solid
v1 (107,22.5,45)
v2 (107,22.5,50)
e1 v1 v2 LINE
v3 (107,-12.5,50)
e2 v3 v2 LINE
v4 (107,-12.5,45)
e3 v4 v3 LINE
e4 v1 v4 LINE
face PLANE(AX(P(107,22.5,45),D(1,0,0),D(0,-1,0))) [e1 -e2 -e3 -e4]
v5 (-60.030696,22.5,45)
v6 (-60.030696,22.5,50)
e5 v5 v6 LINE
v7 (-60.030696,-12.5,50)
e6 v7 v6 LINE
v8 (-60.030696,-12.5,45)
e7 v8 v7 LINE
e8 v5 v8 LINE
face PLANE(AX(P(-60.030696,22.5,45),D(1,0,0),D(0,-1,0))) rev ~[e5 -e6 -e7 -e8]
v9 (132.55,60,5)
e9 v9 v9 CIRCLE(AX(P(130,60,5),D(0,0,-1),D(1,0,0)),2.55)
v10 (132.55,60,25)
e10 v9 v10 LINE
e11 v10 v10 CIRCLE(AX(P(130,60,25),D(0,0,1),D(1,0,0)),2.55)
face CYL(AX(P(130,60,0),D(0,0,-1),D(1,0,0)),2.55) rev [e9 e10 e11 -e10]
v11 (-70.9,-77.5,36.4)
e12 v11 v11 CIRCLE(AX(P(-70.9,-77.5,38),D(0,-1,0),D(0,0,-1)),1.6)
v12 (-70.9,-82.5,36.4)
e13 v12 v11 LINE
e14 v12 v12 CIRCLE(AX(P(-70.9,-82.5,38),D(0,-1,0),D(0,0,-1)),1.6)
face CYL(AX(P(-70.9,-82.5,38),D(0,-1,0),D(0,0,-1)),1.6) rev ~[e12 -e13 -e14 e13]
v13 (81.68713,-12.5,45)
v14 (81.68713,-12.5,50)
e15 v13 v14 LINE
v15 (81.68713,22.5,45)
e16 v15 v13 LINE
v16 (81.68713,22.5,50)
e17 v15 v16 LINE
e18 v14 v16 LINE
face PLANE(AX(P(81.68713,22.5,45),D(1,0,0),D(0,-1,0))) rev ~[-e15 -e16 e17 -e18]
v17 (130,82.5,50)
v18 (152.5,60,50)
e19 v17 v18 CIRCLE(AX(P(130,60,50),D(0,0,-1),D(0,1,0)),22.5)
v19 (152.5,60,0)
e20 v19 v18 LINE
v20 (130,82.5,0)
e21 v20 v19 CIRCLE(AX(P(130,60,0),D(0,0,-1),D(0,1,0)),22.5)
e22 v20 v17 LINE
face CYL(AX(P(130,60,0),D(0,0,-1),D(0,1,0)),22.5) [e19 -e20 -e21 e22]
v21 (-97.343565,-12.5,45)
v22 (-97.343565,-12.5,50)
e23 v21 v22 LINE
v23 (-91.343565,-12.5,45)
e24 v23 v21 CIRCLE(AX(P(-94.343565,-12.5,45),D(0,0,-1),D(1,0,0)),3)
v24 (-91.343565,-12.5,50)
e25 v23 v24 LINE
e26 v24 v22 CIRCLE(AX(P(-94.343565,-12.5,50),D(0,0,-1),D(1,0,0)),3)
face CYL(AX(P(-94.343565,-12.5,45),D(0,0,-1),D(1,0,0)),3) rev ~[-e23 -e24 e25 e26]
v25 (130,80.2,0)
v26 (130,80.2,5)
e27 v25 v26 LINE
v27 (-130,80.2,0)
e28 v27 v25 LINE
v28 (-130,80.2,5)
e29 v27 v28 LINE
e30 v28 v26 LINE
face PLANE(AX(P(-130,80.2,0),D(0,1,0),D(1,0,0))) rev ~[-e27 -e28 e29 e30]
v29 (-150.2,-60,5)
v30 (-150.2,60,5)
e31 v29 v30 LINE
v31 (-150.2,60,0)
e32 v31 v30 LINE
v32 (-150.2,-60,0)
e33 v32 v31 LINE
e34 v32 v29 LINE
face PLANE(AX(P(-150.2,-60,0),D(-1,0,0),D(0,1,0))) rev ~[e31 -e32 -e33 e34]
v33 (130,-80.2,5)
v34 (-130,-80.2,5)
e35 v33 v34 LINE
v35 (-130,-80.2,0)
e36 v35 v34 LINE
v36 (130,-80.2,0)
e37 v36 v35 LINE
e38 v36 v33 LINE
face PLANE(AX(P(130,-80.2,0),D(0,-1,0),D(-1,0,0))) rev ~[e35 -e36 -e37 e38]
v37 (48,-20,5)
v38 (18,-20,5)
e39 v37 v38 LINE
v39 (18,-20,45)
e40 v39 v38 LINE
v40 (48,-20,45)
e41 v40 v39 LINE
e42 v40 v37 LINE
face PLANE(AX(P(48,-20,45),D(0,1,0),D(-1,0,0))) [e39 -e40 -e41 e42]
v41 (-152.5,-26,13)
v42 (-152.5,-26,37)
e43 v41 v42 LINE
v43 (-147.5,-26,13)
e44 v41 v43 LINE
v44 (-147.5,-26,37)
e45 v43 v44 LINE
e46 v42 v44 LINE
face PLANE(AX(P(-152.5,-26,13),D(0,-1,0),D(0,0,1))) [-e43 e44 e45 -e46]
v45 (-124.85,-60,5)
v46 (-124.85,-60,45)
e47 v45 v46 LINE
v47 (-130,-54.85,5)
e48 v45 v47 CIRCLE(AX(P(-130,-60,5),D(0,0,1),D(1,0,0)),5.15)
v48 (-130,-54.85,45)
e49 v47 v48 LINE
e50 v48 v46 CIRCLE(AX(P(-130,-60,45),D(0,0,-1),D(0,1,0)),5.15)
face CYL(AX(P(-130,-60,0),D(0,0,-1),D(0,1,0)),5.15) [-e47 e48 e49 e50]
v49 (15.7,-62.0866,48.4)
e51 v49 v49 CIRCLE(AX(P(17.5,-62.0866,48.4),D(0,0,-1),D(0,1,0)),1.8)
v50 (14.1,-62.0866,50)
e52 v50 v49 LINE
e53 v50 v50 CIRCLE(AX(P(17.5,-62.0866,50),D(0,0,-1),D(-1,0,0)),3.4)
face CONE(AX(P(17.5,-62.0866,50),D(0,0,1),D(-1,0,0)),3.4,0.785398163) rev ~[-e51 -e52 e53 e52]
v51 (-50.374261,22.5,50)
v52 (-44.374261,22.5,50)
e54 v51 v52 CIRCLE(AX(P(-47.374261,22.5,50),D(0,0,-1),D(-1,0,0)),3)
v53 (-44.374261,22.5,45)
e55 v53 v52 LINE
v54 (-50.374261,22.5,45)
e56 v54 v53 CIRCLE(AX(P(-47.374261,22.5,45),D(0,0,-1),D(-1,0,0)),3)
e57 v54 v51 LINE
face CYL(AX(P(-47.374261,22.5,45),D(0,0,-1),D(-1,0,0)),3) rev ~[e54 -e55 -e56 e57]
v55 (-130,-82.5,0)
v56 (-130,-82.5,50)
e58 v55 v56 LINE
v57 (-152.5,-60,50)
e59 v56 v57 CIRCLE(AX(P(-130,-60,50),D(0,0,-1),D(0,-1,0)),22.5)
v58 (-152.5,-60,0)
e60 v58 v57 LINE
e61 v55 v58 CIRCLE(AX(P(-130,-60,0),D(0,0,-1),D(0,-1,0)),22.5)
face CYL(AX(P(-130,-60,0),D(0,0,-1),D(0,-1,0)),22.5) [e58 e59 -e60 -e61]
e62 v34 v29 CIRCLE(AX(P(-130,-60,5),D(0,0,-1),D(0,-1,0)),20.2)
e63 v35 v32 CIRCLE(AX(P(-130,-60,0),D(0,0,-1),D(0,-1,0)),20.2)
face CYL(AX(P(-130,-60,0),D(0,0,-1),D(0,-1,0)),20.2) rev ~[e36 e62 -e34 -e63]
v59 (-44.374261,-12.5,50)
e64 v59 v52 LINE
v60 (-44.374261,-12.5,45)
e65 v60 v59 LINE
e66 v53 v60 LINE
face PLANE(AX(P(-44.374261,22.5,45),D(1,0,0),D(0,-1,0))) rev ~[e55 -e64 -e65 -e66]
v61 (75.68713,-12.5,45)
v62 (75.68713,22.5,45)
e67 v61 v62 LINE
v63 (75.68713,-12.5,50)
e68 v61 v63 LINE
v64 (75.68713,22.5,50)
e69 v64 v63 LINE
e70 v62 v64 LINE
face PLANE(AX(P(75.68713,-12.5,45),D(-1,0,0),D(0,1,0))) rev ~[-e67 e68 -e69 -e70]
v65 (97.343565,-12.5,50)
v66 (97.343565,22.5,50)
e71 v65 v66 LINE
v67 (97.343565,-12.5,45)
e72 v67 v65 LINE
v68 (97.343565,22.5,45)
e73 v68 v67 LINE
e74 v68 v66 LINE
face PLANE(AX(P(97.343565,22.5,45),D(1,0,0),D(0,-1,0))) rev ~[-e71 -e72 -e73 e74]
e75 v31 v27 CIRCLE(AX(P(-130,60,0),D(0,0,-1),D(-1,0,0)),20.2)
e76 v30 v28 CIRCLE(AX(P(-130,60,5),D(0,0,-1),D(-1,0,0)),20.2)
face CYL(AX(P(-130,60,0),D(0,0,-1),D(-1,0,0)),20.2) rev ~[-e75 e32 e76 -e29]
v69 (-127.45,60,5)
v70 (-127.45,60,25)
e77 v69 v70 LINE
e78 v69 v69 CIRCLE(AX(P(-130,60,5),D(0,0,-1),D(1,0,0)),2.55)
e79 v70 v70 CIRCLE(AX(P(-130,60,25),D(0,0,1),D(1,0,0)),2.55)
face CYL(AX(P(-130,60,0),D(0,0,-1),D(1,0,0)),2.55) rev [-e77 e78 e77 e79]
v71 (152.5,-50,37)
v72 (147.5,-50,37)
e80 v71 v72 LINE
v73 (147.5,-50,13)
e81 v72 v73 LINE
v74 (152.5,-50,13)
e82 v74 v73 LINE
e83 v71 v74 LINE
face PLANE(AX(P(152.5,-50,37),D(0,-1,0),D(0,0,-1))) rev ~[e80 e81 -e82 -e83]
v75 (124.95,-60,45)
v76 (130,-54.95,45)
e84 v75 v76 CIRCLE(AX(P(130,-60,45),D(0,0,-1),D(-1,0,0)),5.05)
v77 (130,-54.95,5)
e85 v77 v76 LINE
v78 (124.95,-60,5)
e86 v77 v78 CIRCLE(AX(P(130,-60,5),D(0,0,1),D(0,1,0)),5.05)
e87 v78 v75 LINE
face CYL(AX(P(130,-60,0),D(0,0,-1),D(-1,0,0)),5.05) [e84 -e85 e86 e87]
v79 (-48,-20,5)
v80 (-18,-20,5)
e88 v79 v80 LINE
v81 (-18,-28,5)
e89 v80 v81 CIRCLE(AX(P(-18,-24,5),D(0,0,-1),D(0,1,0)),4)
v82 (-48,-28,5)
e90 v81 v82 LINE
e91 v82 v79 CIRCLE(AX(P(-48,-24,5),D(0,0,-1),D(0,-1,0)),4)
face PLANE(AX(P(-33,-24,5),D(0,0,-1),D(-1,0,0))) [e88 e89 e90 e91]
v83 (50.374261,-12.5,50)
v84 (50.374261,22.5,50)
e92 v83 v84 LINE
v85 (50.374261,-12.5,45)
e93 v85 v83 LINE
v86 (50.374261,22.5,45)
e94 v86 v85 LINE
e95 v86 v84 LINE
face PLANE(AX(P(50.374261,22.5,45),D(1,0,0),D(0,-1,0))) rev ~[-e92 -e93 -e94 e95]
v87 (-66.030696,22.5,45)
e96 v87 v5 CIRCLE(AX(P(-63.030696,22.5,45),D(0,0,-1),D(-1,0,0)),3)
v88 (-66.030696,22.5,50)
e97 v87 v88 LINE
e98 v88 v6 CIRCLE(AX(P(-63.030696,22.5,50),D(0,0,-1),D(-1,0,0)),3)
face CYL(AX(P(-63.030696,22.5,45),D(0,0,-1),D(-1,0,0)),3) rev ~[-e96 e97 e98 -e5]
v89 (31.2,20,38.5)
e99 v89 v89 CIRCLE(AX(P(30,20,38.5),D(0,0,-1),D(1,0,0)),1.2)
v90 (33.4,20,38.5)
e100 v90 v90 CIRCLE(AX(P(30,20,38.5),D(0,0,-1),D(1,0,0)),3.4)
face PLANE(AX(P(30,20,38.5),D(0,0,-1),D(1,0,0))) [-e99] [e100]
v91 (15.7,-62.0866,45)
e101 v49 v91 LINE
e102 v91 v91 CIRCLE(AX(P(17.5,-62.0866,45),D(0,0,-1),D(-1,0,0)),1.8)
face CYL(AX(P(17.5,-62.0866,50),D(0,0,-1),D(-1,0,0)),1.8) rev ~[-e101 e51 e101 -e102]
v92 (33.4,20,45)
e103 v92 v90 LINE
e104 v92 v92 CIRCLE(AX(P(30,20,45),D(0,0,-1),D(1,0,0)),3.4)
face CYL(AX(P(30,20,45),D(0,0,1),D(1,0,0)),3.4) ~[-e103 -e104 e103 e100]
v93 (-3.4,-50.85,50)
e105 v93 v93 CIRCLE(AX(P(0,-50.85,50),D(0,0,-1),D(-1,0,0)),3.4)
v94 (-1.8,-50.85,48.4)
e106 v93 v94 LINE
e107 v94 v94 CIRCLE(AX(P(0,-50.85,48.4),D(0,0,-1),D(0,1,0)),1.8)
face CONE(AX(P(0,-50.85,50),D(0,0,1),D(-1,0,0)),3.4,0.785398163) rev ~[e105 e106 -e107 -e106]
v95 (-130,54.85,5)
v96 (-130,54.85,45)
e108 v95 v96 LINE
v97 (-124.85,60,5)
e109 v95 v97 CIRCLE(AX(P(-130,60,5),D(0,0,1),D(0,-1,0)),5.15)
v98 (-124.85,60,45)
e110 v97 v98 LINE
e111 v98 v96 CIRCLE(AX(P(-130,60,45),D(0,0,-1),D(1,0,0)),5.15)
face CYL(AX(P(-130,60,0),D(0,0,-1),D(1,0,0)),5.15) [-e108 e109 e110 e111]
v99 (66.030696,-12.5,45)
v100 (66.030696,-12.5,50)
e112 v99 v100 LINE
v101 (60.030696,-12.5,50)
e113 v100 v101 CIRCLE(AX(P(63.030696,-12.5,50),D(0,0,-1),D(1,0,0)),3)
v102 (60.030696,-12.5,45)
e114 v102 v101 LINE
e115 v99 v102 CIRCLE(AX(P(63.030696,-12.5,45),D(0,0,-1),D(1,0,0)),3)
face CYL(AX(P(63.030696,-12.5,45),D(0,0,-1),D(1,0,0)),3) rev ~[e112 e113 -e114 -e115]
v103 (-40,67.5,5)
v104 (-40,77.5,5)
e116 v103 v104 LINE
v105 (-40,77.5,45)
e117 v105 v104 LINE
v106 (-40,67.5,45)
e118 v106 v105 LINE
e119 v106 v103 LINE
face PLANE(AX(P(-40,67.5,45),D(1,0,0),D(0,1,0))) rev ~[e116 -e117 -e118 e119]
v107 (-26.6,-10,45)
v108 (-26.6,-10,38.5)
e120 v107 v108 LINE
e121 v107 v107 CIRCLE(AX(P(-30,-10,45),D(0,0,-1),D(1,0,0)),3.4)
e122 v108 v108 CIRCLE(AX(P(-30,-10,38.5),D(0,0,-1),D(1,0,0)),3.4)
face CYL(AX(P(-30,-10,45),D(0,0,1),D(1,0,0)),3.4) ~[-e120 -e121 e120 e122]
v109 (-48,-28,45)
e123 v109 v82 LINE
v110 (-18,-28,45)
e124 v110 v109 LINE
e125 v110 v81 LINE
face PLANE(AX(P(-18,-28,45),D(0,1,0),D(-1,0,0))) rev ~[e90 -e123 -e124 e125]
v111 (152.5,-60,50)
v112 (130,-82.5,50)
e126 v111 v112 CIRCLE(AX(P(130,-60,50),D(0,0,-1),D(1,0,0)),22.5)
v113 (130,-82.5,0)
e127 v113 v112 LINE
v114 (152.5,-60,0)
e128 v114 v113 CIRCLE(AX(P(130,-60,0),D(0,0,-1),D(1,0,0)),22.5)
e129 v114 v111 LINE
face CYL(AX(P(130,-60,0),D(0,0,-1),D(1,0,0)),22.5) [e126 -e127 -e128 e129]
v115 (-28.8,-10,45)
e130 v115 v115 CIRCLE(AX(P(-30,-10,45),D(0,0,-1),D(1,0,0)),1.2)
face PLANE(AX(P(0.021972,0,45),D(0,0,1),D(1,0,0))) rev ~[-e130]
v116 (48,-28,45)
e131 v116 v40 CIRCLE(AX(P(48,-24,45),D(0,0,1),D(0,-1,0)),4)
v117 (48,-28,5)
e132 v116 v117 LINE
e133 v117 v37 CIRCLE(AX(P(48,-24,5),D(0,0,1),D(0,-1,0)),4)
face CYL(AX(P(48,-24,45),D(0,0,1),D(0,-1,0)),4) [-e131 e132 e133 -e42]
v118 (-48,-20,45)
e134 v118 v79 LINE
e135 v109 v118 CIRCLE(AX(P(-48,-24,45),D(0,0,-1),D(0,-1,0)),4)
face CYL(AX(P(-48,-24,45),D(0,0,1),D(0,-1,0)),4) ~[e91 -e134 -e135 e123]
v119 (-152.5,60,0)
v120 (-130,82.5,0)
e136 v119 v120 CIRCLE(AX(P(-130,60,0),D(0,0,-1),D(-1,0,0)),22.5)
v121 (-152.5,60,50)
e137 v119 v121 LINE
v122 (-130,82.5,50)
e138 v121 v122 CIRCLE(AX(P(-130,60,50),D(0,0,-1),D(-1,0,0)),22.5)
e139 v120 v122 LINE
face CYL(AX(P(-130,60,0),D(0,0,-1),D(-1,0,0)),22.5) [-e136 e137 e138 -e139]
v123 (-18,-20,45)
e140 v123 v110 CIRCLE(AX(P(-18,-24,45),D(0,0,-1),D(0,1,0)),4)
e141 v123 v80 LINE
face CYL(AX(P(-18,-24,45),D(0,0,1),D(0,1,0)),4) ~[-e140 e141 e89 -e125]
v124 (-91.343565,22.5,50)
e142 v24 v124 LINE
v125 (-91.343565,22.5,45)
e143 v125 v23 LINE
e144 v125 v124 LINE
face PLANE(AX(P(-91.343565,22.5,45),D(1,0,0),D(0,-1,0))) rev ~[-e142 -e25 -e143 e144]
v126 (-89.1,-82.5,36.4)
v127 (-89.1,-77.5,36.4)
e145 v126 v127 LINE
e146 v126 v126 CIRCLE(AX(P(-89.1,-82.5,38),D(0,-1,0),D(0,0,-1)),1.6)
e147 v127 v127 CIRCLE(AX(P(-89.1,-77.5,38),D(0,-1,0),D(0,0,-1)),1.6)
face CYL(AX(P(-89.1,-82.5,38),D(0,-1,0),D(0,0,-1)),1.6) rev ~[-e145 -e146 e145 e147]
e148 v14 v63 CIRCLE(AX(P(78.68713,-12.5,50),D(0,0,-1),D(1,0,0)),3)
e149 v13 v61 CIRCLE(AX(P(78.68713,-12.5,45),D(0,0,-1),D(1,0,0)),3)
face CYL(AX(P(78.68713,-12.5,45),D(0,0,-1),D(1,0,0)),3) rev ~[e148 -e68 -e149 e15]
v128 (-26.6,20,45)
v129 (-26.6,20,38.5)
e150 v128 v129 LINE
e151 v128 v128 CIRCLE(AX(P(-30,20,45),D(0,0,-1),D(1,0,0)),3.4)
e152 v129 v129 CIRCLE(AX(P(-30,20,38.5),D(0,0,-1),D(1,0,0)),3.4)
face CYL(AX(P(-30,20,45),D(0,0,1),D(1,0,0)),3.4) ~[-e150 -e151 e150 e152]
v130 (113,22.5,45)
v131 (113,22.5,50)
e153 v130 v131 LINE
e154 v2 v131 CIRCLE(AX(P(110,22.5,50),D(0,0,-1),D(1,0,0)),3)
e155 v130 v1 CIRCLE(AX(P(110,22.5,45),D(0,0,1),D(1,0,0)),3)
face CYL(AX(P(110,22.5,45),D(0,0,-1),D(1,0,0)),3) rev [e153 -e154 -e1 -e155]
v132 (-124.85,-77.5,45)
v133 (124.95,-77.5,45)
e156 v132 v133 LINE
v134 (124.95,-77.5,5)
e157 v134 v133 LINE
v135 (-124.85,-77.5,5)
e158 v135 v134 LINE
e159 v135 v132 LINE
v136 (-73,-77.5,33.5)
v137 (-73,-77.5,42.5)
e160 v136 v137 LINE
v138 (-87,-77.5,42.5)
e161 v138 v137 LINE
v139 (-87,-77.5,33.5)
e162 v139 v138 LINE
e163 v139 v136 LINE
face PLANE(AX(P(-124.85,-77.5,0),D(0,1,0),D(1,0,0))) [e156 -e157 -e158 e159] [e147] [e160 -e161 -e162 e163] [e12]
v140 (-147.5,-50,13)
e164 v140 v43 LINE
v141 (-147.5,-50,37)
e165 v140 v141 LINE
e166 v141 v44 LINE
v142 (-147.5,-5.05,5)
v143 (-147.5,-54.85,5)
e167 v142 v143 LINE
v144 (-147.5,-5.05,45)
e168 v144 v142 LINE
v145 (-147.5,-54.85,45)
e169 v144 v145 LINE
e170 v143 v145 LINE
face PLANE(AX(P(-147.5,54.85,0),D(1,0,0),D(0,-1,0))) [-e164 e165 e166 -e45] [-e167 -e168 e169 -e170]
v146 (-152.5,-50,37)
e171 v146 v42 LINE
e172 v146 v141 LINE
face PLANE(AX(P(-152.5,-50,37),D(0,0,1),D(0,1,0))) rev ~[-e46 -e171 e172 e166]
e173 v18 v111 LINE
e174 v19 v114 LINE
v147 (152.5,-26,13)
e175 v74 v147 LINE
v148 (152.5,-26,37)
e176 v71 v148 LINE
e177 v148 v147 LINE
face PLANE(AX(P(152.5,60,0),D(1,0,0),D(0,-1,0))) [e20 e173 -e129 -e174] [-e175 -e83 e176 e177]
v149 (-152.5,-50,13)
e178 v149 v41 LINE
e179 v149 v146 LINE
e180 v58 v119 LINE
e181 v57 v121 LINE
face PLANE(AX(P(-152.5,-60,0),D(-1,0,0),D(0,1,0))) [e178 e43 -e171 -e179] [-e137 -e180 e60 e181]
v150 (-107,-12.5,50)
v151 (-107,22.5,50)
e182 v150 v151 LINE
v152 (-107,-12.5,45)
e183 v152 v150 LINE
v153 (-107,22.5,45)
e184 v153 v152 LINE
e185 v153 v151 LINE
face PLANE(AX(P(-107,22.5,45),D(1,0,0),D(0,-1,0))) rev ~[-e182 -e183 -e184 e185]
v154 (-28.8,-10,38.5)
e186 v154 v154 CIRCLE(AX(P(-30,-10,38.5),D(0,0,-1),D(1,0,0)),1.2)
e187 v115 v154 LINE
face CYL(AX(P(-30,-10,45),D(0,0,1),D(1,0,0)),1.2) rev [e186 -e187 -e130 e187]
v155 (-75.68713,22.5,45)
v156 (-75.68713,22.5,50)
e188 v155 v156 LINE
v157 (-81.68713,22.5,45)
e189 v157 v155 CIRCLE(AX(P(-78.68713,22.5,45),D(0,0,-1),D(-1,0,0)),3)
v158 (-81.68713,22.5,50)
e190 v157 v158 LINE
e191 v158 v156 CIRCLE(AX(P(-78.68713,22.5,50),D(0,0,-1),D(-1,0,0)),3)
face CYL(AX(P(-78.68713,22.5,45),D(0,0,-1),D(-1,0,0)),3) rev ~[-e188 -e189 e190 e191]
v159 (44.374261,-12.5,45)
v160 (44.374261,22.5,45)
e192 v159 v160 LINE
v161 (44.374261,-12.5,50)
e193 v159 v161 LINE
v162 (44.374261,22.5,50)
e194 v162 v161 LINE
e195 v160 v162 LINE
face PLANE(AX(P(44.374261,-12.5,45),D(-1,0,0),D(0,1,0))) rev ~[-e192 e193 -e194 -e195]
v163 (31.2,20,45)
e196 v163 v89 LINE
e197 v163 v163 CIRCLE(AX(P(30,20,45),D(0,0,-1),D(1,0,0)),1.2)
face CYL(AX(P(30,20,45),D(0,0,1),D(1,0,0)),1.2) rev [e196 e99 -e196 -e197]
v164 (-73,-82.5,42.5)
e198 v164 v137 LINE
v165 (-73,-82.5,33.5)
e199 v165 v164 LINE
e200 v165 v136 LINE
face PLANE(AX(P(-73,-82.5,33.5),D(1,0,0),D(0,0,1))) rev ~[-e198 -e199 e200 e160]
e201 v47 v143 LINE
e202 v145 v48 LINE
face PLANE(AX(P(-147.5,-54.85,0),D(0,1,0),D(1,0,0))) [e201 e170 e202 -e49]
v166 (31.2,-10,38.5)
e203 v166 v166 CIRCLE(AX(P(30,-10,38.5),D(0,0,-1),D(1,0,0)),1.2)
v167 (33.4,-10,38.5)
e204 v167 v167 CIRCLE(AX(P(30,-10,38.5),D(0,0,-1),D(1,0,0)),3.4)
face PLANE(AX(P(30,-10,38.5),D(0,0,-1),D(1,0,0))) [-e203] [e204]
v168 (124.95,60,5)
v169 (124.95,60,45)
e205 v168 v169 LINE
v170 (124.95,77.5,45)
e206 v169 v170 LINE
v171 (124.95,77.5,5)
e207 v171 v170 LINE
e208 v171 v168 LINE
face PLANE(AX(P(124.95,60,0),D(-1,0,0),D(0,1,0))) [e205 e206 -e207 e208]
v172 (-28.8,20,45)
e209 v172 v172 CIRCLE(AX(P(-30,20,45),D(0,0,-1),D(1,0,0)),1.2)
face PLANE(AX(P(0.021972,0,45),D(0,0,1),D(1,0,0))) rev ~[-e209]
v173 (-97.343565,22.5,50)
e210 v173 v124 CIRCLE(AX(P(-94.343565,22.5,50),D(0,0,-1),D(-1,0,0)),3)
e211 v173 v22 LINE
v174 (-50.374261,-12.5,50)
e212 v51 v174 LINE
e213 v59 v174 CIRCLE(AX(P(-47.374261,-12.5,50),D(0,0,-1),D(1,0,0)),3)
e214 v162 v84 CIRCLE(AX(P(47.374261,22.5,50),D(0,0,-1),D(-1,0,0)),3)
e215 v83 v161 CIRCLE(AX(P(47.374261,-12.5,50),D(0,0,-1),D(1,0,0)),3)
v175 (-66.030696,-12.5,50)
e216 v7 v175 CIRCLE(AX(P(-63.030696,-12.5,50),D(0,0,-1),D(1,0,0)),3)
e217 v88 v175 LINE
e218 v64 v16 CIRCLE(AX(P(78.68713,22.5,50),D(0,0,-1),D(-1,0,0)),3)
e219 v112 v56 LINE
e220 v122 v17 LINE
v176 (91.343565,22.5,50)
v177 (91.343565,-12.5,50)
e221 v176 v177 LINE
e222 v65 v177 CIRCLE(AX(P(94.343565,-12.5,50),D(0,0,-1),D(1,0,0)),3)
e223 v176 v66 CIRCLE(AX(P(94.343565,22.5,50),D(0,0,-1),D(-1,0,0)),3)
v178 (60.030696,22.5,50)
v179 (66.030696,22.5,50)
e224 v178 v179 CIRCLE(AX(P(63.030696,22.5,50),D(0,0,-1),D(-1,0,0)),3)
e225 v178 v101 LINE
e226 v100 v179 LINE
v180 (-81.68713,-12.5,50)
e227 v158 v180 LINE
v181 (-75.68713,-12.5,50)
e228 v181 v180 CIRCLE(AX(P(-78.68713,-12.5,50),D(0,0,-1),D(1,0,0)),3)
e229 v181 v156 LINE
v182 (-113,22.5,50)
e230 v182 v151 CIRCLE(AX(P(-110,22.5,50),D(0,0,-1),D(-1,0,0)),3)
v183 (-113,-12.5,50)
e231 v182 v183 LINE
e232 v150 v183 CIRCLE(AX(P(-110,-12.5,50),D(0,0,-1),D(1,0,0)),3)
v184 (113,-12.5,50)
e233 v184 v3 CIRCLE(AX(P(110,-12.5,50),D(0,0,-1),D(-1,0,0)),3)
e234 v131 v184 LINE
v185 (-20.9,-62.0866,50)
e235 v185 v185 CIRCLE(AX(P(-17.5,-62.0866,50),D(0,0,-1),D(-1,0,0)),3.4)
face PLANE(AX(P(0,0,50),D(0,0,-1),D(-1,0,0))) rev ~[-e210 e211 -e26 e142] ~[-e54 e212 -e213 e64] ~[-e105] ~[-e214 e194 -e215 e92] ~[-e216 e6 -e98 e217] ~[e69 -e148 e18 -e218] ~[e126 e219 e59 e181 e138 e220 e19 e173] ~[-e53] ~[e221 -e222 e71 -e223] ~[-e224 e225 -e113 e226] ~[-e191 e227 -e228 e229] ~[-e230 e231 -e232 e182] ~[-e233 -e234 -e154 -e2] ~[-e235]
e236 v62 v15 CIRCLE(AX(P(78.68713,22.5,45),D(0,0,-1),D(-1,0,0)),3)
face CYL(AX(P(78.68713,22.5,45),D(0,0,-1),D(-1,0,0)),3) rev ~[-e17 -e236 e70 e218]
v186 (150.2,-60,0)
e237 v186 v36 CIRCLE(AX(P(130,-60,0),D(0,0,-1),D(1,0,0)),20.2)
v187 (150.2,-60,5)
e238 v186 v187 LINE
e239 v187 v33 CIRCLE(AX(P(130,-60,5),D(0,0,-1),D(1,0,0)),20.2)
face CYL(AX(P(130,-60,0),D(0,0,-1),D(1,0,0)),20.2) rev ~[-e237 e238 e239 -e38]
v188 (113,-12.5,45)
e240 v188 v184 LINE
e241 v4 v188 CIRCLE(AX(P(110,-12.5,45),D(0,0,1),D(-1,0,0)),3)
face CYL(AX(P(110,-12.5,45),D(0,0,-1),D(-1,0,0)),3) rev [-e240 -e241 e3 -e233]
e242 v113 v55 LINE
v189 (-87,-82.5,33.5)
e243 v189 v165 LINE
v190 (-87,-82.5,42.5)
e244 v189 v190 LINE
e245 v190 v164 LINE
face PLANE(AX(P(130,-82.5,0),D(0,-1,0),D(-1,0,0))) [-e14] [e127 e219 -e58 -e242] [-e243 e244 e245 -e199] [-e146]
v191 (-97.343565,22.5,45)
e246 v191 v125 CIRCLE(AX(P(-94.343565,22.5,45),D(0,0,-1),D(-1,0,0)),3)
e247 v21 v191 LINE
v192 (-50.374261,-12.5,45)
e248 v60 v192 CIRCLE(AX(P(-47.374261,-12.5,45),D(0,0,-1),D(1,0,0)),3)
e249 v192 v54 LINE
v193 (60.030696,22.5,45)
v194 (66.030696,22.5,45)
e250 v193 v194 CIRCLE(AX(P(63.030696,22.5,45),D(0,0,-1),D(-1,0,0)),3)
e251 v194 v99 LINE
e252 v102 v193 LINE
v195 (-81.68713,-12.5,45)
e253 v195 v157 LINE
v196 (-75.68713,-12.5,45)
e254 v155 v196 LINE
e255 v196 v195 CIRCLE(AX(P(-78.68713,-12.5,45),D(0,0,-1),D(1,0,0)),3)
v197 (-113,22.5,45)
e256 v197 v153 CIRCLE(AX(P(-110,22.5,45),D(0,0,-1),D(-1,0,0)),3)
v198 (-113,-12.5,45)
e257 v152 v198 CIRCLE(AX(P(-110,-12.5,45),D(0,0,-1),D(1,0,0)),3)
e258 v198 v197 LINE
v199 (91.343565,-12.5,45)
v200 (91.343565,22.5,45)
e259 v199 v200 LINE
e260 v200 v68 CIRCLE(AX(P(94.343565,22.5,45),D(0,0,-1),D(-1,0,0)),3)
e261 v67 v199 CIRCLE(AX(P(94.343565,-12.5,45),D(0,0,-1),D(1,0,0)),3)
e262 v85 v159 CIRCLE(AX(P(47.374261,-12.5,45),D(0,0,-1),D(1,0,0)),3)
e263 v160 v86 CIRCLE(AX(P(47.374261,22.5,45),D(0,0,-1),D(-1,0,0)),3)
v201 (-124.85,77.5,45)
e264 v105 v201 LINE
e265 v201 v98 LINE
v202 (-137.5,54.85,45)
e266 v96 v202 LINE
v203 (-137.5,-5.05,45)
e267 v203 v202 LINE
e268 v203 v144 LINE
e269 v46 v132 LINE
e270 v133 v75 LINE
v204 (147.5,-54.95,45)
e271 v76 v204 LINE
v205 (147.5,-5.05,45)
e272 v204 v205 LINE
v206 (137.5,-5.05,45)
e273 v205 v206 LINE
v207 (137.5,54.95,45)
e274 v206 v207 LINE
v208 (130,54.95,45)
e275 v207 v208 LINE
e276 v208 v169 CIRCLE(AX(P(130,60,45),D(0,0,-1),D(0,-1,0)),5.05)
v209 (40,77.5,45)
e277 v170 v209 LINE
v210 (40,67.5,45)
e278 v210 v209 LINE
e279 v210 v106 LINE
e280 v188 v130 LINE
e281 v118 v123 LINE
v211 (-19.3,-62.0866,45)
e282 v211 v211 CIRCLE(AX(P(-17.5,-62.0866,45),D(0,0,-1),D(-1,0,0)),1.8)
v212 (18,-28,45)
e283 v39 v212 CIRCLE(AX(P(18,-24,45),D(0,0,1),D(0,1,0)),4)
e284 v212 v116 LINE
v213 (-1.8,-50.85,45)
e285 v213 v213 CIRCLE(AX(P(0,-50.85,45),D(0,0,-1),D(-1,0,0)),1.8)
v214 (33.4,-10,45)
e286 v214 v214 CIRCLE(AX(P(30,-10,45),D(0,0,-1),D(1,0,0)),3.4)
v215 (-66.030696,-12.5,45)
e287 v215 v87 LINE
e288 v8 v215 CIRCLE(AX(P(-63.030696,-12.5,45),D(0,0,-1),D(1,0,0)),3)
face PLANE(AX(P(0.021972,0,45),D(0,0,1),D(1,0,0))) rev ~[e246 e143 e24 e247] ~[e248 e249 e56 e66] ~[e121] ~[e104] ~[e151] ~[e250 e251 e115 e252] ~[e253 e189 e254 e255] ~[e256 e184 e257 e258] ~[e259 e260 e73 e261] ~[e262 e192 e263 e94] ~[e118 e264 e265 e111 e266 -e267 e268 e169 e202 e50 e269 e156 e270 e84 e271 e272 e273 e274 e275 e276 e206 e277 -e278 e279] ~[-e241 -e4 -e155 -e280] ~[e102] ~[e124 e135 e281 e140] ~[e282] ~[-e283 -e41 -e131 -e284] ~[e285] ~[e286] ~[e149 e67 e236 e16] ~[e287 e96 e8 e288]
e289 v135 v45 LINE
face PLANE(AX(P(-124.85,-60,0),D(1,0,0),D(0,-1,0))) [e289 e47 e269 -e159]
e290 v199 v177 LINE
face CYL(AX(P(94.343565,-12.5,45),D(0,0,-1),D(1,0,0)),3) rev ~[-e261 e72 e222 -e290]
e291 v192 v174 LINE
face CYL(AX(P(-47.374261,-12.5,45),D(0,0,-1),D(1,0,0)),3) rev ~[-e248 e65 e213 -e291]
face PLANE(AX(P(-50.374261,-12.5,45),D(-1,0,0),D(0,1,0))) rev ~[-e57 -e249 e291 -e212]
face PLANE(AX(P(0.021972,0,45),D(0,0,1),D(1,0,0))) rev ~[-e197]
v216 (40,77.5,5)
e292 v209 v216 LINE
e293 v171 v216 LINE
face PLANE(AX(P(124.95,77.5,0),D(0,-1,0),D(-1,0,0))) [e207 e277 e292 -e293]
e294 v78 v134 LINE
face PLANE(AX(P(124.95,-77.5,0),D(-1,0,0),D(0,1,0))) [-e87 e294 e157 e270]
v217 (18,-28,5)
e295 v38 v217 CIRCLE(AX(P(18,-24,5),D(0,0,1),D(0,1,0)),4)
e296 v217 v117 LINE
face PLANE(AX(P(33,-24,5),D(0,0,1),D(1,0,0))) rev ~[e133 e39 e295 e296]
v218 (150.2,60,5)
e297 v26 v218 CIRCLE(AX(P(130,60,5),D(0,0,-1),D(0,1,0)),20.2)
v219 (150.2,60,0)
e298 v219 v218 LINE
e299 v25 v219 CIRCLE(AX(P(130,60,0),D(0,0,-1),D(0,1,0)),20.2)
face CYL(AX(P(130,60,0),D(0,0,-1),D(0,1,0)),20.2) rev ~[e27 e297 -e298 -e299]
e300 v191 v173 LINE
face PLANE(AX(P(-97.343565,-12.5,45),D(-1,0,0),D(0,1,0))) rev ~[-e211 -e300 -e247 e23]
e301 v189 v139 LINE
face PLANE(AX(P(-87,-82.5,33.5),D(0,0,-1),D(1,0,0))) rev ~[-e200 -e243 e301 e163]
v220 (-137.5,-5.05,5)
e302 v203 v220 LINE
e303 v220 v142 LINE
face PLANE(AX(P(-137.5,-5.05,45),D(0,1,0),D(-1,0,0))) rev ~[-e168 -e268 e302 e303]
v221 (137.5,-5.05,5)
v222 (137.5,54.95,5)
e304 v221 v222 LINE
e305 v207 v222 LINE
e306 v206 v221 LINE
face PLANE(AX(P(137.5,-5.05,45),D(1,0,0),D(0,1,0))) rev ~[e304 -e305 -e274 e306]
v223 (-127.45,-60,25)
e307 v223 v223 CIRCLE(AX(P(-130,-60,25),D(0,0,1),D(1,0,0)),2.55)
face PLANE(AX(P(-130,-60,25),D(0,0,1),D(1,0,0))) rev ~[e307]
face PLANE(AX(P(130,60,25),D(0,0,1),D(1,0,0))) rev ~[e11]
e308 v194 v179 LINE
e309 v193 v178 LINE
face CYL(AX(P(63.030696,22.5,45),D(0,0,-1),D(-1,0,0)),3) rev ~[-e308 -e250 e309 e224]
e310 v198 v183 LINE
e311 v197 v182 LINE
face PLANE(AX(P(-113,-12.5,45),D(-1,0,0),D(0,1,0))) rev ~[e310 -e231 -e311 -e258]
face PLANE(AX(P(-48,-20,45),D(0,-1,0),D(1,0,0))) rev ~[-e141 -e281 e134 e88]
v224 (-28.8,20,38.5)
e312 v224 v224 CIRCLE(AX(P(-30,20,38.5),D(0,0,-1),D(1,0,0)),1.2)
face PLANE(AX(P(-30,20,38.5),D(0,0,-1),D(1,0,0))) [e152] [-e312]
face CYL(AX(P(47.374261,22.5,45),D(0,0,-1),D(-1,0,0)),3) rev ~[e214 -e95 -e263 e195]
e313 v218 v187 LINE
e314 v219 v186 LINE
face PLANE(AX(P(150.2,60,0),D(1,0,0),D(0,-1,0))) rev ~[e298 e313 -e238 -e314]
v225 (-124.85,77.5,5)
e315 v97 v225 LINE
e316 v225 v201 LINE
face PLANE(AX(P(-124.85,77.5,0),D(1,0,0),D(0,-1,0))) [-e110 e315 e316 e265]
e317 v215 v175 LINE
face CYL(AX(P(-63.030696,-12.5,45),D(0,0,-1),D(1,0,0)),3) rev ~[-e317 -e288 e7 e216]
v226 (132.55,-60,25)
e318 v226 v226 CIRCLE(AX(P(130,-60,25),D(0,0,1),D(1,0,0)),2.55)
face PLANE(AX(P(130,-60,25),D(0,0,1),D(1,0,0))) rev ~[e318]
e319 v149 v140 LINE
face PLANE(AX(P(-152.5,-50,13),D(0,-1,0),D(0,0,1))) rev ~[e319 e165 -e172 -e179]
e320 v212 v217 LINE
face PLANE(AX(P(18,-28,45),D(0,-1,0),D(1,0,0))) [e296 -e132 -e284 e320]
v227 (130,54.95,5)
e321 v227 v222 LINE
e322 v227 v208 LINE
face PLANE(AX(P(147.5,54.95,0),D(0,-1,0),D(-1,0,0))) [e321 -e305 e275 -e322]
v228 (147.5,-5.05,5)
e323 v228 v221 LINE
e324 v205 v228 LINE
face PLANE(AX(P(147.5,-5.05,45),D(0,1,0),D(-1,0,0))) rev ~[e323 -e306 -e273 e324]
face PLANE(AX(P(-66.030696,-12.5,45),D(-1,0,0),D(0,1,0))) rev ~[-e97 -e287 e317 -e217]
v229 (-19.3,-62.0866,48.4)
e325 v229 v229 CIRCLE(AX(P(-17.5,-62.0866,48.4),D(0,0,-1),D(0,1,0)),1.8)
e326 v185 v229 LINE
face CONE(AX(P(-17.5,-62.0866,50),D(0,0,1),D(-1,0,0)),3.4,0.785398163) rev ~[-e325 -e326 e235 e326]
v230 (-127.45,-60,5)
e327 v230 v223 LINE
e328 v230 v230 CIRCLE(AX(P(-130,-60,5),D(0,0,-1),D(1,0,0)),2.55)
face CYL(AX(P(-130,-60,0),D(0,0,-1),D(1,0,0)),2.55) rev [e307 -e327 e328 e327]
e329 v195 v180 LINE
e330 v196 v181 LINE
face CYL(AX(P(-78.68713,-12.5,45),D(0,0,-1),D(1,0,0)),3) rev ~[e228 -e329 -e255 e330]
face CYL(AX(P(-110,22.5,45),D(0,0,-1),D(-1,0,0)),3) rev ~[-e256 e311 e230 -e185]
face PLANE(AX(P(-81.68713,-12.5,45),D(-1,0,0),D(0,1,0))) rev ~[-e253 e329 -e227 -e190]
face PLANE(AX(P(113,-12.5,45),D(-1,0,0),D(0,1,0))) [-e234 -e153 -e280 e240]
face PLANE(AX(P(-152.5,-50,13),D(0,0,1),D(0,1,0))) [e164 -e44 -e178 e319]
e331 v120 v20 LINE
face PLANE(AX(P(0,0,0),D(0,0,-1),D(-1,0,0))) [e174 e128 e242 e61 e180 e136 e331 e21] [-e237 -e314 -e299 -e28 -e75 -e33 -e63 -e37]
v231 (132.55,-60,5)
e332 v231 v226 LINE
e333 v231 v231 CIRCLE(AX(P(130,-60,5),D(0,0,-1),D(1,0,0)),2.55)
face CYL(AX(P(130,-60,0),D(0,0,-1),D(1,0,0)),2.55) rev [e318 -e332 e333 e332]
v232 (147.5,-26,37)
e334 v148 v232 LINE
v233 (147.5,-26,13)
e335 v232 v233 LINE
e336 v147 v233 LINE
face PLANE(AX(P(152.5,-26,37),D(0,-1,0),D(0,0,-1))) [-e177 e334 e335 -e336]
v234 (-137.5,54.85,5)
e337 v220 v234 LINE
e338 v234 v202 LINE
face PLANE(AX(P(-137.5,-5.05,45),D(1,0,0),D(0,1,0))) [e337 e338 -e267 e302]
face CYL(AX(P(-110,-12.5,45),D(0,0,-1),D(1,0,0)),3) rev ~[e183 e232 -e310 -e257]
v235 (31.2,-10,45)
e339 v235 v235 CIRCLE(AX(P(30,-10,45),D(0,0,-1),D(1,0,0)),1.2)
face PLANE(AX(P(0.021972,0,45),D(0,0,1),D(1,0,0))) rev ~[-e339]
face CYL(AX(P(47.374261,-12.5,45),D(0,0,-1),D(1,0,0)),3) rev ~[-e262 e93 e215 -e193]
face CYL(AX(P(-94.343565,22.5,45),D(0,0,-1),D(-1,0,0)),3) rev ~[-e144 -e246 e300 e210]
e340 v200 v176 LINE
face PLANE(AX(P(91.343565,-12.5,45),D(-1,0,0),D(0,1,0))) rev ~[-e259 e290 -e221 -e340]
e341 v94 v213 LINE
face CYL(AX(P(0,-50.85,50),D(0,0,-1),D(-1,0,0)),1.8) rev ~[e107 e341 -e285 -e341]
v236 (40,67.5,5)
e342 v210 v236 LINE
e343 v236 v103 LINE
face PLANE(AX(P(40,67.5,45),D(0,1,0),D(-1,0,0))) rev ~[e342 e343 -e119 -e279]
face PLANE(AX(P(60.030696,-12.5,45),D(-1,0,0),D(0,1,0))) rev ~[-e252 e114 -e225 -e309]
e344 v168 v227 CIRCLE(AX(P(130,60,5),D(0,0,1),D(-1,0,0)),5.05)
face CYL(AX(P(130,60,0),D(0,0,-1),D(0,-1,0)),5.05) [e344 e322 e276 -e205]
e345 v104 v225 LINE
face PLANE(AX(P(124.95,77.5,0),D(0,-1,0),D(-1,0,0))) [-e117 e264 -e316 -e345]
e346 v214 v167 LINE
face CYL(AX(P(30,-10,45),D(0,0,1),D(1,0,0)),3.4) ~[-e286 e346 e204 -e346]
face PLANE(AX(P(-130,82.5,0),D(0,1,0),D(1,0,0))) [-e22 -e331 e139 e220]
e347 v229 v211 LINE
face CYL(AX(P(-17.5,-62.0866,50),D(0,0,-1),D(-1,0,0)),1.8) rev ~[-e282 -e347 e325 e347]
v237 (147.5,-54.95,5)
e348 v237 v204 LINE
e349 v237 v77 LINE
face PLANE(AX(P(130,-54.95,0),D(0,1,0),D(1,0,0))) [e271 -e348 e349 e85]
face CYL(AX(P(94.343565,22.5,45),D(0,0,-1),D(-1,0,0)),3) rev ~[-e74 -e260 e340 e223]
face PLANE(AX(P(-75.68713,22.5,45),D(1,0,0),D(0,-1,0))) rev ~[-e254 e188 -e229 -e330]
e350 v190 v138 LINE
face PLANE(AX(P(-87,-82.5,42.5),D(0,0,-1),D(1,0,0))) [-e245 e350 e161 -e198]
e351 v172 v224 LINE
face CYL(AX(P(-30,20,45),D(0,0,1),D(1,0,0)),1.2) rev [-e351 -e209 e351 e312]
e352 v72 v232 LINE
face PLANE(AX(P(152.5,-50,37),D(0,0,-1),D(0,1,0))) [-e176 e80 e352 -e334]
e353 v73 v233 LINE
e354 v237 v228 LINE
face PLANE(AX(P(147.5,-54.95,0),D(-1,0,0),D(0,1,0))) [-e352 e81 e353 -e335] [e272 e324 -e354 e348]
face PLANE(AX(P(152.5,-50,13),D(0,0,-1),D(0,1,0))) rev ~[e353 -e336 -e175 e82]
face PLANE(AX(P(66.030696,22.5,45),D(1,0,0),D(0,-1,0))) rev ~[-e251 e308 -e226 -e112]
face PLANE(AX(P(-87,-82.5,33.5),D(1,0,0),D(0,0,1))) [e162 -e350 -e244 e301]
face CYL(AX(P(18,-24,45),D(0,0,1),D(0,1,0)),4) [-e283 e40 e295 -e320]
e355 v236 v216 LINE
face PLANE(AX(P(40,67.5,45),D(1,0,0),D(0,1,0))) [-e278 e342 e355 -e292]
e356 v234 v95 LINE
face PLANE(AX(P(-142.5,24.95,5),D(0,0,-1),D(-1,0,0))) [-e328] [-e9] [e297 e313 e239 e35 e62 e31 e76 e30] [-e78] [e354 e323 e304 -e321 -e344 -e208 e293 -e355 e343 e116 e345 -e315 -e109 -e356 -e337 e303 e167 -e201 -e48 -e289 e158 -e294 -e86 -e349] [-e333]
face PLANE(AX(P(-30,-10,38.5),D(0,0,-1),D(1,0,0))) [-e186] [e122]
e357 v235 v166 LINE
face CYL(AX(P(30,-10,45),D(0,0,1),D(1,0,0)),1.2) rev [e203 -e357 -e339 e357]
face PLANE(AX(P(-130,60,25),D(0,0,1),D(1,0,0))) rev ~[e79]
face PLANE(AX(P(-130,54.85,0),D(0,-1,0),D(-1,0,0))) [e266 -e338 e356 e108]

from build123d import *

# Parameters (mm, degrees)
EXTRUDE_1_DEPTH              = 50
CUT_EXTRUDE_1_DEPTH          = 45
CUT_EXTRUDE_2_DEPTH          = 5
CUT_EXTRUDE_3_DEPTH          = 5
SKETCH_1_7_R                 = 2.55
CUT_EXTRUDE_4_DEPTH          = 25
SKETCH_14_R                  = 1.6
SKETCH_14_W                  = 14
SKETCH_14_H                  = 9
USB_DEPTH                    = 5
SKETCH_16_W                  = 24
SKETCH_16_H                  = 24
CUT_EXTRUDE_12_DEPTH         = 5
SKETCH_18_W                  = 24
SKETCH_18_H                  = 24
CUT_EXTRUDE_13_DEPTH         = 5
SKETCH_29_R                  = 3.4
SKETCH_29_R_2                = 1.2
EXTRUDE_5_DEPTH              = 6.5
SKETCH_30_R                  = 1.6
CUT_EXTRUDE_21_DEPTH         = 5
HOLE_WIZARD_M3_1_D           = 3.6
HOLE_WIZARD_M3_1_CSINK_D     = 6.8
HOLE_WIZARD_M3_1_CSINK_ANGLE = 90
CUT_EXTRUDE_23_REACH         = 181.13
EXTRUDE_6_DEPTH              = 40
SKETCH_40_W                  = 10
SKETCH_40_H                  = 60
SKETCH_40_W_2                = 80
SKETCH_40_H_2                = 10
EXTRUDE_7_DEPTH              = 40


with BuildPart() as part:
    # 草图1 → 凸台-拉伸1 (new body)
    with BuildSketch(Plane.XY):
        with BuildLine():
            Line((-130, 82.5), (130, 82.5))
            ThreePointArc((130, 82.5), (145.909902577, 75.909902577), (152.5, 60))
            Line((152.5, 60), (152.5, -60))
            ThreePointArc((152.5, -60), (145.909902577, -75.909902577), (130, -82.5))
            Line((130, -82.5), (-130, -82.5))
            ThreePointArc((-130, -82.5), (-145.909902577, -75.909902577), (-152.5, -60))
            Line((-152.5, -60), (-152.5, 60))
            ThreePointArc((-152.5, 60), (-145.909902577, 75.909902577), (-130, 82.5))
        make_face()
    extrude(amount=EXTRUDE_1_DEPTH)

    # 草图1<4> → 切除-拉伸1 (cut)
    with BuildSketch(Plane.XY):
        with BuildLine():
            Line((124.95, 77.5), (-124.85, 77.5))
            Line((-124.85, 77.5), (-124.85, 60))
            ThreePointArc((-124.85, 60), (-126.358400077, 56.358400077), (-130, 54.85))
            Line((-130, 54.85), (-147.5, 54.85))
            Line((-147.5, 54.85), (-147.5, -54.85))
            Line((-147.5, -54.85), (-130, -54.85))
            ThreePointArc((-130, -54.85), (-126.358400077, -56.358400077), (-124.85, -60))
            Line((-124.85, -60), (-124.85, -77.5))
            Line((-124.85, -77.5), (124.95, -77.5))
            Line((124.95, -77.5), (124.95, -60))
            ThreePointArc((124.95, -60), (126.429110755, -56.429110755), (130, -54.95))
            Line((130, -54.95), (147.5, -54.95))
            Line((147.5, -54.95), (147.5, 54.95))
            Line((147.5, 54.95), (130, 54.95))
            ThreePointArc((130, 54.95), (126.429110755, 56.429110755), (124.95, 60))
            Line((124.95, 60), (124.95, 77.5))
        make_face()
    extrude(amount=CUT_EXTRUDE_1_DEPTH, mode=Mode.SUBTRACT)

    # 草图1<5> → 切除-拉伸2 (cut)
    with BuildSketch(Plane.XY):
        with BuildLine():
            ThreePointArc((-150.2, 60), (-144.28355698, 74.28355698), (-130, 80.2))
            Line((-130, 80.2), (130, 80.2))
            ThreePointArc((130, 80.2), (144.28355698, 74.28355698), (150.2, 60))
            Line((150.2, 60), (150.2, -60))
            ThreePointArc((150.2, -60), (144.28355698, -74.28355698), (130, -80.2))
            Line((130, -80.2), (-130, -80.2))
            ThreePointArc((-130, -80.2), (-144.28355698, -74.28355698), (-150.2, -60))
            Line((-150.2, -60), (-150.2, 60))
        make_face()
        with BuildLine():
            Line((-147.5, 60), (-147.5, -60))
            ThreePointArc((-147.5, -60), (-142.374368671, -72.374368671), (-130, -77.5))
            Line((-130, -77.5), (130, -77.5))
            ThreePointArc((130, -77.5), (142.374368671, -72.374368671), (147.5, -60))
            Line((147.5, -60), (147.5, 60))
            ThreePointArc((147.5, 60), (142.374368671, 72.374368671), (130, 77.5))
            Line((130, 77.5), (-130, 77.5))
            ThreePointArc((-130, 77.5), (-142.374368671, 72.374368671), (-147.5, 60))
        make_face(mode=Mode.SUBTRACT)
    extrude(amount=CUT_EXTRUDE_2_DEPTH, mode=Mode.SUBTRACT)

    # 草图1<6> → 切除-拉伸3 (cut)
    with BuildSketch(Plane.XY):
        with BuildLine():
            Line((-124.85, 77.5), (-130, 77.5))
            ThreePointArc((-130, 77.5), (-142.374368671, 72.374368671), (-147.5, 60))
            Line((-147.5, 60), (-147.5, 54.85))
            Line((-147.5, 54.85), (-130, 54.85))
            ThreePointArc((-130, 54.85), (-126.358400077, 56.358400077), (-124.85, 60))
            Line((-124.85, 60), (-124.85, 77.5))
        make_face()
        with BuildLine():
            Line((130, 77.5), (124.95, 77.5))
            Line((124.95, 77.5), (124.95, 60))
            ThreePointArc((124.95, 60), (126.429110755, 56.429110755), (130, 54.95))
            Line((130, 54.95), (147.5, 54.95))
            Line((147.5, 54.95), (147.5, 60))
            ThreePointArc((147.5, 60), (142.374368671, 72.374368671), (130, 77.5))
        make_face()
        with BuildLine():
            Line((-130, -54.85), (-147.5, -54.85))
            Line((-147.5, -54.85), (-147.5, -60))
            ThreePointArc((-147.5, -60), (-142.374368671, -72.374368671), (-130, -77.5))
            Line((-130, -77.5), (-124.85, -77.5))
            Line((-124.85, -77.5), (-124.85, -60))
            ThreePointArc((-124.85, -60), (-126.358400077, -56.358400077), (-130, -54.85))
        make_face()
        with BuildLine():
            Line((147.5, -60), (147.5, -54.95))
            Line((147.5, -54.95), (130, -54.95))
            ThreePointArc((130, -54.95), (126.429110755, -56.429110755), (124.95, -60))
            Line((124.95, -60), (124.95, -77.5))
            Line((124.95, -77.5), (130, -77.5))
            ThreePointArc((130, -77.5), (142.374368671, -72.374368671), (147.5, -60))
        make_face()
    extrude(amount=CUT_EXTRUDE_3_DEPTH, mode=Mode.SUBTRACT)

    # 草图1<7> → 切除-拉伸4 (cut)
    with BuildSketch(Plane.XY):
        with Locations((-130, -60)):
            Circle(SKETCH_1_7_R)
        with Locations((130, 60)):
            Circle(SKETCH_1_7_R)
        with Locations((130, -60)):
            Circle(SKETCH_1_7_R)
        with Locations((-130, 60)):
            Circle(SKETCH_1_7_R)
    extrude(amount=CUT_EXTRUDE_4_DEPTH, mode=Mode.SUBTRACT)

    # 草图14 → USB口 (cut)
    with BuildSketch(Plane.XZ.offset(82.5)):
        with Locations(Location((-70.9, 38, 0), (0, 0, 270))):
            Circle(SKETCH_14_R)
        with Locations(Location((-89.1, 38, 0), (0, 0, 270))):
            Circle(SKETCH_14_R)
        with Locations((-80, 38)):
            Rectangle(SKETCH_14_W, SKETCH_14_H)
    extrude(amount=-USB_DEPTH, mode=Mode.SUBTRACT)

    # 草图16 → 切除-拉伸12 (cut)
    with BuildSketch(Plane(origin=(152.5, 0, 0), x_dir=(0, 0, -1), z_dir=(1, 0, 0))):
        with Locations((-25, -38)):
            Rectangle(SKETCH_16_W, SKETCH_16_H)
    extrude(amount=-CUT_EXTRUDE_12_DEPTH, mode=Mode.SUBTRACT)

    # 草图18 → 切除-拉伸13 (cut)
    with BuildSketch(Plane.ZY.offset(152.5)):
        with Locations((25, -38)):
            Rectangle(SKETCH_18_W, SKETCH_18_H)
    extrude(amount=-CUT_EXTRUDE_13_DEPTH, mode=Mode.SUBTRACT)

    # 草图29 → 凸台-拉伸5 (add)
    # profile 1 of 4: a face of its own
    with BuildSketch(Plane(origin=(0, 0, 45), x_dir=(-1, 0, 0), z_dir=(0, 0, -1))):
        with Locations(Location((-30, 20, 0), (0, 0, 180))):
            Circle(SKETCH_29_R)
        with Locations(Location((-30, 20, 0), (0, 0, 180))):
            Circle(SKETCH_29_R_2, mode=Mode.SUBTRACT)
    # profile 2 of 4: a face of its own
    with BuildSketch(Plane(origin=(0, 0, 45), x_dir=(-1, 0, 0), z_dir=(0, 0, -1))):
        with Locations(Location((-30, -10, 0), (0, 0, 180))):
            Circle(SKETCH_29_R)
        with Locations(Location((-30, -10, 0), (0, 0, 180))):
            Circle(SKETCH_29_R_2, mode=Mode.SUBTRACT)
    # profile 3 of 4: a face of its own
    with BuildSketch(Plane(origin=(0, 0, 45), x_dir=(-1, 0, 0), z_dir=(0, 0, -1))):
        with Locations(Location((30, 20, 0), (0, 0, 180))):
            Circle(SKETCH_29_R)
        with Locations(Location((30, 20, 0), (0, 0, 180))):
            Circle(SKETCH_29_R_2, mode=Mode.SUBTRACT)
    # profile 4 of 4: a face of its own
    with BuildSketch(Plane(origin=(0, 0, 45), x_dir=(-1, 0, 0), z_dir=(0, 0, -1))):
        with Locations(Location((30, -10, 0), (0, 0, 180))):
            Circle(SKETCH_29_R)
        with Locations(Location((30, -10, 0), (0, 0, 180))):
            Circle(SKETCH_29_R_2, mode=Mode.SUBTRACT)
    extrude(amount=EXTRUDE_5_DEPTH)

    # 草图30 → 切除-拉伸21 (cut)
    with BuildSketch(Plane(origin=(0, 0, 45), x_dir=(-1, 0, 0), z_dir=(0, 0, -1))):
        with Locations((17.5, -62.0866)):
            Circle(SKETCH_30_R)
        with Locations((0, -50.85)):
            Circle(SKETCH_30_R)
        with Locations((-17.5, -62.0866)):
            Circle(SKETCH_30_R)
    extrude(amount=-CUT_EXTRUDE_21_DEPTH, mode=Mode.SUBTRACT)

    # M3 平头机械螺钉的锥形沉头孔1 (through all)
    with Locations(Plane.XY.offset(50)):
        with Locations((17.5, -62.0866), (0, -50.85), (-17.5, -62.0866)):
            CounterSinkHole(HOLE_WIZARD_M3_1_D / 2, HOLE_WIZARD_M3_1_CSINK_D / 2, counter_sink_angle=HOLE_WIZARD_M3_1_CSINK_ANGLE)

    # 草图38 → 切除-拉伸23 (cut, up to next)
    with BuildSketch(Plane(origin=(0, 0, 45), x_dir=(-1, 0, 0), z_dir=(0, 0, -1)), mode=Mode.PRIVATE) as cut_extrude_23_sk1:
        with BuildLine():
            Line((-107, 22.5), (-107, -12.5))
            ThreePointArc((-107, -12.5), (-110, -15.5), (-113, -12.5))
            Line((-113, -12.5), (-113, 22.5))
            ThreePointArc((-113, 22.5), (-110, 25.5), (-107, 22.5))
        make_face()
    cut_extrude_23_tool1 = extrude(cut_extrude_23_sk1.sketch, amount=-CUT_EXTRUDE_23_REACH, mode=Mode.PRIVATE) & part.part
    # 草图38 → 切除-拉伸23 (cut, up to next)
    with BuildSketch(Plane(origin=(0, 0, 45), x_dir=(-1, 0, 0), z_dir=(0, 0, -1)), mode=Mode.PRIVATE) as cut_extrude_23_sk2:
        with BuildLine():
            Line((-97.343565249, 22.5), (-97.343565249, -12.5))
            ThreePointArc((-97.343565249, -12.5), (-94.343565249, -15.5), (-91.343565249, -12.5))
            Line((-91.343565249, -12.5), (-91.343565249, 22.5))
            ThreePointArc((-91.343565249, 22.5), (-94.343565249, 25.5), (-97.343565249, 22.5))
        make_face()
    cut_extrude_23_tool2 = extrude(cut_extrude_23_sk2.sketch, amount=-CUT_EXTRUDE_23_REACH, mode=Mode.PRIVATE) & part.part
    # 草图38 → 切除-拉伸23 (cut, up to next)
    with BuildSketch(Plane(origin=(0, 0, 45), x_dir=(-1, 0, 0), z_dir=(0, 0, -1)), mode=Mode.PRIVATE) as cut_extrude_23_sk3:
        with BuildLine():
            Line((-81.687130498, 22.5), (-81.687130498, -12.5))
            ThreePointArc((-81.687130498, -12.5), (-78.687130498, -15.5), (-75.687130498, -12.5))
            Line((-75.687130498, -12.5), (-75.687130498, 22.5))
            ThreePointArc((-75.687130498, 22.5), (-78.687130498, 25.5), (-81.687130498, 22.5))
        make_face()
    cut_extrude_23_tool3 = extrude(cut_extrude_23_sk3.sketch, amount=-CUT_EXTRUDE_23_REACH, mode=Mode.PRIVATE) & part.part
    # 草图38 → 切除-拉伸23 (cut, up to next)
    with BuildSketch(Plane(origin=(0, 0, 45), x_dir=(-1, 0, 0), z_dir=(0, 0, -1)), mode=Mode.PRIVATE) as cut_extrude_23_sk4:
        with BuildLine():
            Line((-66.030695747, 22.5), (-66.030695747, -12.5))
            ThreePointArc((-66.030695747, -12.5), (-63.030695747, -15.5), (-60.030695747, -12.5))
            Line((-60.030695747, -12.5), (-60.030695747, 22.5))
            ThreePointArc((-60.030695747, 22.5), (-63.030695747, 25.5), (-66.030695747, 22.5))
        make_face()
    cut_extrude_23_tool4 = extrude(cut_extrude_23_sk4.sketch, amount=-CUT_EXTRUDE_23_REACH, mode=Mode.PRIVATE) & part.part
    # 草图38 → 切除-拉伸23 (cut, up to next)
    with BuildSketch(Plane(origin=(0, 0, 45), x_dir=(-1, 0, 0), z_dir=(0, 0, -1)), mode=Mode.PRIVATE) as cut_extrude_23_sk5:
        with BuildLine():
            Line((-50.374260997, 22.5), (-50.374260997, -12.5))
            ThreePointArc((-50.374260997, -12.5), (-47.374260997, -15.5), (-44.374260997, -12.5))
            Line((-44.374260997, -12.5), (-44.374260997, 22.5))
            ThreePointArc((-44.374260997, 22.5), (-47.374260997, 25.5), (-50.374260997, 22.5))
        make_face()
    cut_extrude_23_tool5 = extrude(cut_extrude_23_sk5.sketch, amount=-CUT_EXTRUDE_23_REACH, mode=Mode.PRIVATE) & part.part
    # 草图38 → 切除-拉伸23 (cut, up to next)
    with BuildSketch(Plane(origin=(0, 0, 45), x_dir=(-1, 0, 0), z_dir=(0, 0, -1)), mode=Mode.PRIVATE) as cut_extrude_23_sk6:
        with BuildLine():
            Line((107, 22.5), (107, -12.5))
            ThreePointArc((107, -12.5), (110, -15.5), (113, -12.5))
            Line((113, -12.5), (113, 22.5))
            ThreePointArc((113, 22.5), (110, 25.5), (107, 22.5))
        make_face()
    cut_extrude_23_tool6 = extrude(cut_extrude_23_sk6.sketch, amount=-CUT_EXTRUDE_23_REACH, mode=Mode.PRIVATE) & part.part
    # 草图38 → 切除-拉伸23 (cut, up to next)
    with BuildSketch(Plane(origin=(0, 0, 45), x_dir=(-1, 0, 0), z_dir=(0, 0, -1)), mode=Mode.PRIVATE) as cut_extrude_23_sk7:
        with BuildLine():
            Line((91.343565249, 22.5), (91.343565249, -12.5))
            ThreePointArc((91.343565249, -12.5), (94.343565249, -15.5), (97.343565249, -12.5))
            Line((97.343565249, -12.5), (97.343565249, 22.5))
            ThreePointArc((97.343565249, 22.5), (94.343565249, 25.5), (91.343565249, 22.5))
        make_face()
    cut_extrude_23_tool7 = extrude(cut_extrude_23_sk7.sketch, amount=-CUT_EXTRUDE_23_REACH, mode=Mode.PRIVATE) & part.part
    # 草图38 → 切除-拉伸23 (cut, up to next)
    with BuildSketch(Plane(origin=(0, 0, 45), x_dir=(-1, 0, 0), z_dir=(0, 0, -1)), mode=Mode.PRIVATE) as cut_extrude_23_sk8:
        with BuildLine():
            Line((75.687130498, 22.5), (75.687130498, -12.5))
            ThreePointArc((75.687130498, -12.5), (78.687130498, -15.5), (81.687130498, -12.5))
            Line((81.687130498, -12.5), (81.687130498, 22.5))
            ThreePointArc((81.687130498, 22.5), (78.687130498, 25.5), (75.687130498, 22.5))
        make_face()
    cut_extrude_23_tool8 = extrude(cut_extrude_23_sk8.sketch, amount=-CUT_EXTRUDE_23_REACH, mode=Mode.PRIVATE) & part.part
    # 草图38 → 切除-拉伸23 (cut, up to next)
    with BuildSketch(Plane(origin=(0, 0, 45), x_dir=(-1, 0, 0), z_dir=(0, 0, -1)), mode=Mode.PRIVATE) as cut_extrude_23_sk9:
        with BuildLine():
            Line((60.030695747, 22.5), (60.030695747, -12.5))
            ThreePointArc((60.030695747, -12.5), (63.030695747, -15.5), (66.030695747, -12.5))
            Line((66.030695747, -12.5), (66.030695747, 22.5))
            ThreePointArc((66.030695747, 22.5), (63.030695747, 25.5), (60.030695747, 22.5))
        make_face()
    cut_extrude_23_tool9 = extrude(cut_extrude_23_sk9.sketch, amount=-CUT_EXTRUDE_23_REACH, mode=Mode.PRIVATE) & part.part
    # 草图38 → 切除-拉伸23 (cut, up to next)
    with BuildSketch(Plane(origin=(0, 0, 45), x_dir=(-1, 0, 0), z_dir=(0, 0, -1)), mode=Mode.PRIVATE) as cut_extrude_23_sk10:
        with BuildLine():
            Line((44.374260997, 22.5), (44.374260997, -12.5))
            ThreePointArc((44.374260997, -12.5), (47.374260997, -15.5), (50.374260997, -12.5))
            Line((50.374260997, -12.5), (50.374260997, 22.5))
            ThreePointArc((50.374260997, 22.5), (47.374260997, 25.5), (44.374260997, 22.5))
        make_face()
    cut_extrude_23_tool10 = extrude(cut_extrude_23_sk10.sketch, amount=-CUT_EXTRUDE_23_REACH, mode=Mode.PRIVATE) & part.part
    add(cut_extrude_23_tool1.solids().sort_by_distance((110, 5, 45))[0], mode=Mode.SUBTRACT)
    add(cut_extrude_23_tool2.solids().sort_by_distance((94.343565, 5, 45))[0], mode=Mode.SUBTRACT)
    add(cut_extrude_23_tool3.solids().sort_by_distance((78.68713, 5, 45))[0], mode=Mode.SUBTRACT)
    add(cut_extrude_23_tool4.solids().sort_by_distance((63.030696, 5, 45))[0], mode=Mode.SUBTRACT)
    add(cut_extrude_23_tool5.solids().sort_by_distance((47.374261, 5, 45))[0], mode=Mode.SUBTRACT)
    add(cut_extrude_23_tool6.solids().sort_by_distance((-110, 5, 45))[0], mode=Mode.SUBTRACT)
    add(cut_extrude_23_tool7.solids().sort_by_distance((-94.343565, 5, 45))[0], mode=Mode.SUBTRACT)
    add(cut_extrude_23_tool8.solids().sort_by_distance((-78.68713, 5, 45))[0], mode=Mode.SUBTRACT)
    add(cut_extrude_23_tool9.solids().sort_by_distance((-63.030696, 5, 45))[0], mode=Mode.SUBTRACT)
    add(cut_extrude_23_tool10.solids().sort_by_distance((-47.374261, 5, 45))[0], mode=Mode.SUBTRACT)

    # 草图39 → 凸台-拉伸6 (add)
    with BuildSketch(Plane(origin=(0, 0, 45), x_dir=(-1, 0, 0), z_dir=(0, 0, -1))):
        with BuildLine():
            Line((-18, -28), (-48, -28))
            ThreePointArc((-48, -28), (-52, -24), (-48, -20))
            Line((-48, -20), (-18, -20))
            ThreePointArc((-18, -20), (-14, -24), (-18, -28))
        make_face()
        with BuildLine():
            Line((18, -28), (48, -28))
            ThreePointArc((48, -28), (52, -24), (48, -20))
            Line((48, -20), (18, -20))
            ThreePointArc((18, -20), (14, -24), (18, -28))
        make_face()
    extrude(amount=EXTRUDE_6_DEPTH)

    # 草图40 → 凸台-拉伸7 (add)
    with BuildSketch(Plane(origin=(0, 0, 45), x_dir=(-1, 0, 0), z_dir=(0, 0, -1))):
        with Locations((142.5, 24.95)):
            Rectangle(SKETCH_40_W, SKETCH_40_H)
        with Locations((-142.5, 24.95)):
            Rectangle(SKETCH_40_W, SKETCH_40_H)
        with Locations((0, 72.5)):
            Rectangle(SKETCH_40_W_2, SKETCH_40_H_2)
    extrude(amount=EXTRUDE_7_DEPTH)


solid = part.part
